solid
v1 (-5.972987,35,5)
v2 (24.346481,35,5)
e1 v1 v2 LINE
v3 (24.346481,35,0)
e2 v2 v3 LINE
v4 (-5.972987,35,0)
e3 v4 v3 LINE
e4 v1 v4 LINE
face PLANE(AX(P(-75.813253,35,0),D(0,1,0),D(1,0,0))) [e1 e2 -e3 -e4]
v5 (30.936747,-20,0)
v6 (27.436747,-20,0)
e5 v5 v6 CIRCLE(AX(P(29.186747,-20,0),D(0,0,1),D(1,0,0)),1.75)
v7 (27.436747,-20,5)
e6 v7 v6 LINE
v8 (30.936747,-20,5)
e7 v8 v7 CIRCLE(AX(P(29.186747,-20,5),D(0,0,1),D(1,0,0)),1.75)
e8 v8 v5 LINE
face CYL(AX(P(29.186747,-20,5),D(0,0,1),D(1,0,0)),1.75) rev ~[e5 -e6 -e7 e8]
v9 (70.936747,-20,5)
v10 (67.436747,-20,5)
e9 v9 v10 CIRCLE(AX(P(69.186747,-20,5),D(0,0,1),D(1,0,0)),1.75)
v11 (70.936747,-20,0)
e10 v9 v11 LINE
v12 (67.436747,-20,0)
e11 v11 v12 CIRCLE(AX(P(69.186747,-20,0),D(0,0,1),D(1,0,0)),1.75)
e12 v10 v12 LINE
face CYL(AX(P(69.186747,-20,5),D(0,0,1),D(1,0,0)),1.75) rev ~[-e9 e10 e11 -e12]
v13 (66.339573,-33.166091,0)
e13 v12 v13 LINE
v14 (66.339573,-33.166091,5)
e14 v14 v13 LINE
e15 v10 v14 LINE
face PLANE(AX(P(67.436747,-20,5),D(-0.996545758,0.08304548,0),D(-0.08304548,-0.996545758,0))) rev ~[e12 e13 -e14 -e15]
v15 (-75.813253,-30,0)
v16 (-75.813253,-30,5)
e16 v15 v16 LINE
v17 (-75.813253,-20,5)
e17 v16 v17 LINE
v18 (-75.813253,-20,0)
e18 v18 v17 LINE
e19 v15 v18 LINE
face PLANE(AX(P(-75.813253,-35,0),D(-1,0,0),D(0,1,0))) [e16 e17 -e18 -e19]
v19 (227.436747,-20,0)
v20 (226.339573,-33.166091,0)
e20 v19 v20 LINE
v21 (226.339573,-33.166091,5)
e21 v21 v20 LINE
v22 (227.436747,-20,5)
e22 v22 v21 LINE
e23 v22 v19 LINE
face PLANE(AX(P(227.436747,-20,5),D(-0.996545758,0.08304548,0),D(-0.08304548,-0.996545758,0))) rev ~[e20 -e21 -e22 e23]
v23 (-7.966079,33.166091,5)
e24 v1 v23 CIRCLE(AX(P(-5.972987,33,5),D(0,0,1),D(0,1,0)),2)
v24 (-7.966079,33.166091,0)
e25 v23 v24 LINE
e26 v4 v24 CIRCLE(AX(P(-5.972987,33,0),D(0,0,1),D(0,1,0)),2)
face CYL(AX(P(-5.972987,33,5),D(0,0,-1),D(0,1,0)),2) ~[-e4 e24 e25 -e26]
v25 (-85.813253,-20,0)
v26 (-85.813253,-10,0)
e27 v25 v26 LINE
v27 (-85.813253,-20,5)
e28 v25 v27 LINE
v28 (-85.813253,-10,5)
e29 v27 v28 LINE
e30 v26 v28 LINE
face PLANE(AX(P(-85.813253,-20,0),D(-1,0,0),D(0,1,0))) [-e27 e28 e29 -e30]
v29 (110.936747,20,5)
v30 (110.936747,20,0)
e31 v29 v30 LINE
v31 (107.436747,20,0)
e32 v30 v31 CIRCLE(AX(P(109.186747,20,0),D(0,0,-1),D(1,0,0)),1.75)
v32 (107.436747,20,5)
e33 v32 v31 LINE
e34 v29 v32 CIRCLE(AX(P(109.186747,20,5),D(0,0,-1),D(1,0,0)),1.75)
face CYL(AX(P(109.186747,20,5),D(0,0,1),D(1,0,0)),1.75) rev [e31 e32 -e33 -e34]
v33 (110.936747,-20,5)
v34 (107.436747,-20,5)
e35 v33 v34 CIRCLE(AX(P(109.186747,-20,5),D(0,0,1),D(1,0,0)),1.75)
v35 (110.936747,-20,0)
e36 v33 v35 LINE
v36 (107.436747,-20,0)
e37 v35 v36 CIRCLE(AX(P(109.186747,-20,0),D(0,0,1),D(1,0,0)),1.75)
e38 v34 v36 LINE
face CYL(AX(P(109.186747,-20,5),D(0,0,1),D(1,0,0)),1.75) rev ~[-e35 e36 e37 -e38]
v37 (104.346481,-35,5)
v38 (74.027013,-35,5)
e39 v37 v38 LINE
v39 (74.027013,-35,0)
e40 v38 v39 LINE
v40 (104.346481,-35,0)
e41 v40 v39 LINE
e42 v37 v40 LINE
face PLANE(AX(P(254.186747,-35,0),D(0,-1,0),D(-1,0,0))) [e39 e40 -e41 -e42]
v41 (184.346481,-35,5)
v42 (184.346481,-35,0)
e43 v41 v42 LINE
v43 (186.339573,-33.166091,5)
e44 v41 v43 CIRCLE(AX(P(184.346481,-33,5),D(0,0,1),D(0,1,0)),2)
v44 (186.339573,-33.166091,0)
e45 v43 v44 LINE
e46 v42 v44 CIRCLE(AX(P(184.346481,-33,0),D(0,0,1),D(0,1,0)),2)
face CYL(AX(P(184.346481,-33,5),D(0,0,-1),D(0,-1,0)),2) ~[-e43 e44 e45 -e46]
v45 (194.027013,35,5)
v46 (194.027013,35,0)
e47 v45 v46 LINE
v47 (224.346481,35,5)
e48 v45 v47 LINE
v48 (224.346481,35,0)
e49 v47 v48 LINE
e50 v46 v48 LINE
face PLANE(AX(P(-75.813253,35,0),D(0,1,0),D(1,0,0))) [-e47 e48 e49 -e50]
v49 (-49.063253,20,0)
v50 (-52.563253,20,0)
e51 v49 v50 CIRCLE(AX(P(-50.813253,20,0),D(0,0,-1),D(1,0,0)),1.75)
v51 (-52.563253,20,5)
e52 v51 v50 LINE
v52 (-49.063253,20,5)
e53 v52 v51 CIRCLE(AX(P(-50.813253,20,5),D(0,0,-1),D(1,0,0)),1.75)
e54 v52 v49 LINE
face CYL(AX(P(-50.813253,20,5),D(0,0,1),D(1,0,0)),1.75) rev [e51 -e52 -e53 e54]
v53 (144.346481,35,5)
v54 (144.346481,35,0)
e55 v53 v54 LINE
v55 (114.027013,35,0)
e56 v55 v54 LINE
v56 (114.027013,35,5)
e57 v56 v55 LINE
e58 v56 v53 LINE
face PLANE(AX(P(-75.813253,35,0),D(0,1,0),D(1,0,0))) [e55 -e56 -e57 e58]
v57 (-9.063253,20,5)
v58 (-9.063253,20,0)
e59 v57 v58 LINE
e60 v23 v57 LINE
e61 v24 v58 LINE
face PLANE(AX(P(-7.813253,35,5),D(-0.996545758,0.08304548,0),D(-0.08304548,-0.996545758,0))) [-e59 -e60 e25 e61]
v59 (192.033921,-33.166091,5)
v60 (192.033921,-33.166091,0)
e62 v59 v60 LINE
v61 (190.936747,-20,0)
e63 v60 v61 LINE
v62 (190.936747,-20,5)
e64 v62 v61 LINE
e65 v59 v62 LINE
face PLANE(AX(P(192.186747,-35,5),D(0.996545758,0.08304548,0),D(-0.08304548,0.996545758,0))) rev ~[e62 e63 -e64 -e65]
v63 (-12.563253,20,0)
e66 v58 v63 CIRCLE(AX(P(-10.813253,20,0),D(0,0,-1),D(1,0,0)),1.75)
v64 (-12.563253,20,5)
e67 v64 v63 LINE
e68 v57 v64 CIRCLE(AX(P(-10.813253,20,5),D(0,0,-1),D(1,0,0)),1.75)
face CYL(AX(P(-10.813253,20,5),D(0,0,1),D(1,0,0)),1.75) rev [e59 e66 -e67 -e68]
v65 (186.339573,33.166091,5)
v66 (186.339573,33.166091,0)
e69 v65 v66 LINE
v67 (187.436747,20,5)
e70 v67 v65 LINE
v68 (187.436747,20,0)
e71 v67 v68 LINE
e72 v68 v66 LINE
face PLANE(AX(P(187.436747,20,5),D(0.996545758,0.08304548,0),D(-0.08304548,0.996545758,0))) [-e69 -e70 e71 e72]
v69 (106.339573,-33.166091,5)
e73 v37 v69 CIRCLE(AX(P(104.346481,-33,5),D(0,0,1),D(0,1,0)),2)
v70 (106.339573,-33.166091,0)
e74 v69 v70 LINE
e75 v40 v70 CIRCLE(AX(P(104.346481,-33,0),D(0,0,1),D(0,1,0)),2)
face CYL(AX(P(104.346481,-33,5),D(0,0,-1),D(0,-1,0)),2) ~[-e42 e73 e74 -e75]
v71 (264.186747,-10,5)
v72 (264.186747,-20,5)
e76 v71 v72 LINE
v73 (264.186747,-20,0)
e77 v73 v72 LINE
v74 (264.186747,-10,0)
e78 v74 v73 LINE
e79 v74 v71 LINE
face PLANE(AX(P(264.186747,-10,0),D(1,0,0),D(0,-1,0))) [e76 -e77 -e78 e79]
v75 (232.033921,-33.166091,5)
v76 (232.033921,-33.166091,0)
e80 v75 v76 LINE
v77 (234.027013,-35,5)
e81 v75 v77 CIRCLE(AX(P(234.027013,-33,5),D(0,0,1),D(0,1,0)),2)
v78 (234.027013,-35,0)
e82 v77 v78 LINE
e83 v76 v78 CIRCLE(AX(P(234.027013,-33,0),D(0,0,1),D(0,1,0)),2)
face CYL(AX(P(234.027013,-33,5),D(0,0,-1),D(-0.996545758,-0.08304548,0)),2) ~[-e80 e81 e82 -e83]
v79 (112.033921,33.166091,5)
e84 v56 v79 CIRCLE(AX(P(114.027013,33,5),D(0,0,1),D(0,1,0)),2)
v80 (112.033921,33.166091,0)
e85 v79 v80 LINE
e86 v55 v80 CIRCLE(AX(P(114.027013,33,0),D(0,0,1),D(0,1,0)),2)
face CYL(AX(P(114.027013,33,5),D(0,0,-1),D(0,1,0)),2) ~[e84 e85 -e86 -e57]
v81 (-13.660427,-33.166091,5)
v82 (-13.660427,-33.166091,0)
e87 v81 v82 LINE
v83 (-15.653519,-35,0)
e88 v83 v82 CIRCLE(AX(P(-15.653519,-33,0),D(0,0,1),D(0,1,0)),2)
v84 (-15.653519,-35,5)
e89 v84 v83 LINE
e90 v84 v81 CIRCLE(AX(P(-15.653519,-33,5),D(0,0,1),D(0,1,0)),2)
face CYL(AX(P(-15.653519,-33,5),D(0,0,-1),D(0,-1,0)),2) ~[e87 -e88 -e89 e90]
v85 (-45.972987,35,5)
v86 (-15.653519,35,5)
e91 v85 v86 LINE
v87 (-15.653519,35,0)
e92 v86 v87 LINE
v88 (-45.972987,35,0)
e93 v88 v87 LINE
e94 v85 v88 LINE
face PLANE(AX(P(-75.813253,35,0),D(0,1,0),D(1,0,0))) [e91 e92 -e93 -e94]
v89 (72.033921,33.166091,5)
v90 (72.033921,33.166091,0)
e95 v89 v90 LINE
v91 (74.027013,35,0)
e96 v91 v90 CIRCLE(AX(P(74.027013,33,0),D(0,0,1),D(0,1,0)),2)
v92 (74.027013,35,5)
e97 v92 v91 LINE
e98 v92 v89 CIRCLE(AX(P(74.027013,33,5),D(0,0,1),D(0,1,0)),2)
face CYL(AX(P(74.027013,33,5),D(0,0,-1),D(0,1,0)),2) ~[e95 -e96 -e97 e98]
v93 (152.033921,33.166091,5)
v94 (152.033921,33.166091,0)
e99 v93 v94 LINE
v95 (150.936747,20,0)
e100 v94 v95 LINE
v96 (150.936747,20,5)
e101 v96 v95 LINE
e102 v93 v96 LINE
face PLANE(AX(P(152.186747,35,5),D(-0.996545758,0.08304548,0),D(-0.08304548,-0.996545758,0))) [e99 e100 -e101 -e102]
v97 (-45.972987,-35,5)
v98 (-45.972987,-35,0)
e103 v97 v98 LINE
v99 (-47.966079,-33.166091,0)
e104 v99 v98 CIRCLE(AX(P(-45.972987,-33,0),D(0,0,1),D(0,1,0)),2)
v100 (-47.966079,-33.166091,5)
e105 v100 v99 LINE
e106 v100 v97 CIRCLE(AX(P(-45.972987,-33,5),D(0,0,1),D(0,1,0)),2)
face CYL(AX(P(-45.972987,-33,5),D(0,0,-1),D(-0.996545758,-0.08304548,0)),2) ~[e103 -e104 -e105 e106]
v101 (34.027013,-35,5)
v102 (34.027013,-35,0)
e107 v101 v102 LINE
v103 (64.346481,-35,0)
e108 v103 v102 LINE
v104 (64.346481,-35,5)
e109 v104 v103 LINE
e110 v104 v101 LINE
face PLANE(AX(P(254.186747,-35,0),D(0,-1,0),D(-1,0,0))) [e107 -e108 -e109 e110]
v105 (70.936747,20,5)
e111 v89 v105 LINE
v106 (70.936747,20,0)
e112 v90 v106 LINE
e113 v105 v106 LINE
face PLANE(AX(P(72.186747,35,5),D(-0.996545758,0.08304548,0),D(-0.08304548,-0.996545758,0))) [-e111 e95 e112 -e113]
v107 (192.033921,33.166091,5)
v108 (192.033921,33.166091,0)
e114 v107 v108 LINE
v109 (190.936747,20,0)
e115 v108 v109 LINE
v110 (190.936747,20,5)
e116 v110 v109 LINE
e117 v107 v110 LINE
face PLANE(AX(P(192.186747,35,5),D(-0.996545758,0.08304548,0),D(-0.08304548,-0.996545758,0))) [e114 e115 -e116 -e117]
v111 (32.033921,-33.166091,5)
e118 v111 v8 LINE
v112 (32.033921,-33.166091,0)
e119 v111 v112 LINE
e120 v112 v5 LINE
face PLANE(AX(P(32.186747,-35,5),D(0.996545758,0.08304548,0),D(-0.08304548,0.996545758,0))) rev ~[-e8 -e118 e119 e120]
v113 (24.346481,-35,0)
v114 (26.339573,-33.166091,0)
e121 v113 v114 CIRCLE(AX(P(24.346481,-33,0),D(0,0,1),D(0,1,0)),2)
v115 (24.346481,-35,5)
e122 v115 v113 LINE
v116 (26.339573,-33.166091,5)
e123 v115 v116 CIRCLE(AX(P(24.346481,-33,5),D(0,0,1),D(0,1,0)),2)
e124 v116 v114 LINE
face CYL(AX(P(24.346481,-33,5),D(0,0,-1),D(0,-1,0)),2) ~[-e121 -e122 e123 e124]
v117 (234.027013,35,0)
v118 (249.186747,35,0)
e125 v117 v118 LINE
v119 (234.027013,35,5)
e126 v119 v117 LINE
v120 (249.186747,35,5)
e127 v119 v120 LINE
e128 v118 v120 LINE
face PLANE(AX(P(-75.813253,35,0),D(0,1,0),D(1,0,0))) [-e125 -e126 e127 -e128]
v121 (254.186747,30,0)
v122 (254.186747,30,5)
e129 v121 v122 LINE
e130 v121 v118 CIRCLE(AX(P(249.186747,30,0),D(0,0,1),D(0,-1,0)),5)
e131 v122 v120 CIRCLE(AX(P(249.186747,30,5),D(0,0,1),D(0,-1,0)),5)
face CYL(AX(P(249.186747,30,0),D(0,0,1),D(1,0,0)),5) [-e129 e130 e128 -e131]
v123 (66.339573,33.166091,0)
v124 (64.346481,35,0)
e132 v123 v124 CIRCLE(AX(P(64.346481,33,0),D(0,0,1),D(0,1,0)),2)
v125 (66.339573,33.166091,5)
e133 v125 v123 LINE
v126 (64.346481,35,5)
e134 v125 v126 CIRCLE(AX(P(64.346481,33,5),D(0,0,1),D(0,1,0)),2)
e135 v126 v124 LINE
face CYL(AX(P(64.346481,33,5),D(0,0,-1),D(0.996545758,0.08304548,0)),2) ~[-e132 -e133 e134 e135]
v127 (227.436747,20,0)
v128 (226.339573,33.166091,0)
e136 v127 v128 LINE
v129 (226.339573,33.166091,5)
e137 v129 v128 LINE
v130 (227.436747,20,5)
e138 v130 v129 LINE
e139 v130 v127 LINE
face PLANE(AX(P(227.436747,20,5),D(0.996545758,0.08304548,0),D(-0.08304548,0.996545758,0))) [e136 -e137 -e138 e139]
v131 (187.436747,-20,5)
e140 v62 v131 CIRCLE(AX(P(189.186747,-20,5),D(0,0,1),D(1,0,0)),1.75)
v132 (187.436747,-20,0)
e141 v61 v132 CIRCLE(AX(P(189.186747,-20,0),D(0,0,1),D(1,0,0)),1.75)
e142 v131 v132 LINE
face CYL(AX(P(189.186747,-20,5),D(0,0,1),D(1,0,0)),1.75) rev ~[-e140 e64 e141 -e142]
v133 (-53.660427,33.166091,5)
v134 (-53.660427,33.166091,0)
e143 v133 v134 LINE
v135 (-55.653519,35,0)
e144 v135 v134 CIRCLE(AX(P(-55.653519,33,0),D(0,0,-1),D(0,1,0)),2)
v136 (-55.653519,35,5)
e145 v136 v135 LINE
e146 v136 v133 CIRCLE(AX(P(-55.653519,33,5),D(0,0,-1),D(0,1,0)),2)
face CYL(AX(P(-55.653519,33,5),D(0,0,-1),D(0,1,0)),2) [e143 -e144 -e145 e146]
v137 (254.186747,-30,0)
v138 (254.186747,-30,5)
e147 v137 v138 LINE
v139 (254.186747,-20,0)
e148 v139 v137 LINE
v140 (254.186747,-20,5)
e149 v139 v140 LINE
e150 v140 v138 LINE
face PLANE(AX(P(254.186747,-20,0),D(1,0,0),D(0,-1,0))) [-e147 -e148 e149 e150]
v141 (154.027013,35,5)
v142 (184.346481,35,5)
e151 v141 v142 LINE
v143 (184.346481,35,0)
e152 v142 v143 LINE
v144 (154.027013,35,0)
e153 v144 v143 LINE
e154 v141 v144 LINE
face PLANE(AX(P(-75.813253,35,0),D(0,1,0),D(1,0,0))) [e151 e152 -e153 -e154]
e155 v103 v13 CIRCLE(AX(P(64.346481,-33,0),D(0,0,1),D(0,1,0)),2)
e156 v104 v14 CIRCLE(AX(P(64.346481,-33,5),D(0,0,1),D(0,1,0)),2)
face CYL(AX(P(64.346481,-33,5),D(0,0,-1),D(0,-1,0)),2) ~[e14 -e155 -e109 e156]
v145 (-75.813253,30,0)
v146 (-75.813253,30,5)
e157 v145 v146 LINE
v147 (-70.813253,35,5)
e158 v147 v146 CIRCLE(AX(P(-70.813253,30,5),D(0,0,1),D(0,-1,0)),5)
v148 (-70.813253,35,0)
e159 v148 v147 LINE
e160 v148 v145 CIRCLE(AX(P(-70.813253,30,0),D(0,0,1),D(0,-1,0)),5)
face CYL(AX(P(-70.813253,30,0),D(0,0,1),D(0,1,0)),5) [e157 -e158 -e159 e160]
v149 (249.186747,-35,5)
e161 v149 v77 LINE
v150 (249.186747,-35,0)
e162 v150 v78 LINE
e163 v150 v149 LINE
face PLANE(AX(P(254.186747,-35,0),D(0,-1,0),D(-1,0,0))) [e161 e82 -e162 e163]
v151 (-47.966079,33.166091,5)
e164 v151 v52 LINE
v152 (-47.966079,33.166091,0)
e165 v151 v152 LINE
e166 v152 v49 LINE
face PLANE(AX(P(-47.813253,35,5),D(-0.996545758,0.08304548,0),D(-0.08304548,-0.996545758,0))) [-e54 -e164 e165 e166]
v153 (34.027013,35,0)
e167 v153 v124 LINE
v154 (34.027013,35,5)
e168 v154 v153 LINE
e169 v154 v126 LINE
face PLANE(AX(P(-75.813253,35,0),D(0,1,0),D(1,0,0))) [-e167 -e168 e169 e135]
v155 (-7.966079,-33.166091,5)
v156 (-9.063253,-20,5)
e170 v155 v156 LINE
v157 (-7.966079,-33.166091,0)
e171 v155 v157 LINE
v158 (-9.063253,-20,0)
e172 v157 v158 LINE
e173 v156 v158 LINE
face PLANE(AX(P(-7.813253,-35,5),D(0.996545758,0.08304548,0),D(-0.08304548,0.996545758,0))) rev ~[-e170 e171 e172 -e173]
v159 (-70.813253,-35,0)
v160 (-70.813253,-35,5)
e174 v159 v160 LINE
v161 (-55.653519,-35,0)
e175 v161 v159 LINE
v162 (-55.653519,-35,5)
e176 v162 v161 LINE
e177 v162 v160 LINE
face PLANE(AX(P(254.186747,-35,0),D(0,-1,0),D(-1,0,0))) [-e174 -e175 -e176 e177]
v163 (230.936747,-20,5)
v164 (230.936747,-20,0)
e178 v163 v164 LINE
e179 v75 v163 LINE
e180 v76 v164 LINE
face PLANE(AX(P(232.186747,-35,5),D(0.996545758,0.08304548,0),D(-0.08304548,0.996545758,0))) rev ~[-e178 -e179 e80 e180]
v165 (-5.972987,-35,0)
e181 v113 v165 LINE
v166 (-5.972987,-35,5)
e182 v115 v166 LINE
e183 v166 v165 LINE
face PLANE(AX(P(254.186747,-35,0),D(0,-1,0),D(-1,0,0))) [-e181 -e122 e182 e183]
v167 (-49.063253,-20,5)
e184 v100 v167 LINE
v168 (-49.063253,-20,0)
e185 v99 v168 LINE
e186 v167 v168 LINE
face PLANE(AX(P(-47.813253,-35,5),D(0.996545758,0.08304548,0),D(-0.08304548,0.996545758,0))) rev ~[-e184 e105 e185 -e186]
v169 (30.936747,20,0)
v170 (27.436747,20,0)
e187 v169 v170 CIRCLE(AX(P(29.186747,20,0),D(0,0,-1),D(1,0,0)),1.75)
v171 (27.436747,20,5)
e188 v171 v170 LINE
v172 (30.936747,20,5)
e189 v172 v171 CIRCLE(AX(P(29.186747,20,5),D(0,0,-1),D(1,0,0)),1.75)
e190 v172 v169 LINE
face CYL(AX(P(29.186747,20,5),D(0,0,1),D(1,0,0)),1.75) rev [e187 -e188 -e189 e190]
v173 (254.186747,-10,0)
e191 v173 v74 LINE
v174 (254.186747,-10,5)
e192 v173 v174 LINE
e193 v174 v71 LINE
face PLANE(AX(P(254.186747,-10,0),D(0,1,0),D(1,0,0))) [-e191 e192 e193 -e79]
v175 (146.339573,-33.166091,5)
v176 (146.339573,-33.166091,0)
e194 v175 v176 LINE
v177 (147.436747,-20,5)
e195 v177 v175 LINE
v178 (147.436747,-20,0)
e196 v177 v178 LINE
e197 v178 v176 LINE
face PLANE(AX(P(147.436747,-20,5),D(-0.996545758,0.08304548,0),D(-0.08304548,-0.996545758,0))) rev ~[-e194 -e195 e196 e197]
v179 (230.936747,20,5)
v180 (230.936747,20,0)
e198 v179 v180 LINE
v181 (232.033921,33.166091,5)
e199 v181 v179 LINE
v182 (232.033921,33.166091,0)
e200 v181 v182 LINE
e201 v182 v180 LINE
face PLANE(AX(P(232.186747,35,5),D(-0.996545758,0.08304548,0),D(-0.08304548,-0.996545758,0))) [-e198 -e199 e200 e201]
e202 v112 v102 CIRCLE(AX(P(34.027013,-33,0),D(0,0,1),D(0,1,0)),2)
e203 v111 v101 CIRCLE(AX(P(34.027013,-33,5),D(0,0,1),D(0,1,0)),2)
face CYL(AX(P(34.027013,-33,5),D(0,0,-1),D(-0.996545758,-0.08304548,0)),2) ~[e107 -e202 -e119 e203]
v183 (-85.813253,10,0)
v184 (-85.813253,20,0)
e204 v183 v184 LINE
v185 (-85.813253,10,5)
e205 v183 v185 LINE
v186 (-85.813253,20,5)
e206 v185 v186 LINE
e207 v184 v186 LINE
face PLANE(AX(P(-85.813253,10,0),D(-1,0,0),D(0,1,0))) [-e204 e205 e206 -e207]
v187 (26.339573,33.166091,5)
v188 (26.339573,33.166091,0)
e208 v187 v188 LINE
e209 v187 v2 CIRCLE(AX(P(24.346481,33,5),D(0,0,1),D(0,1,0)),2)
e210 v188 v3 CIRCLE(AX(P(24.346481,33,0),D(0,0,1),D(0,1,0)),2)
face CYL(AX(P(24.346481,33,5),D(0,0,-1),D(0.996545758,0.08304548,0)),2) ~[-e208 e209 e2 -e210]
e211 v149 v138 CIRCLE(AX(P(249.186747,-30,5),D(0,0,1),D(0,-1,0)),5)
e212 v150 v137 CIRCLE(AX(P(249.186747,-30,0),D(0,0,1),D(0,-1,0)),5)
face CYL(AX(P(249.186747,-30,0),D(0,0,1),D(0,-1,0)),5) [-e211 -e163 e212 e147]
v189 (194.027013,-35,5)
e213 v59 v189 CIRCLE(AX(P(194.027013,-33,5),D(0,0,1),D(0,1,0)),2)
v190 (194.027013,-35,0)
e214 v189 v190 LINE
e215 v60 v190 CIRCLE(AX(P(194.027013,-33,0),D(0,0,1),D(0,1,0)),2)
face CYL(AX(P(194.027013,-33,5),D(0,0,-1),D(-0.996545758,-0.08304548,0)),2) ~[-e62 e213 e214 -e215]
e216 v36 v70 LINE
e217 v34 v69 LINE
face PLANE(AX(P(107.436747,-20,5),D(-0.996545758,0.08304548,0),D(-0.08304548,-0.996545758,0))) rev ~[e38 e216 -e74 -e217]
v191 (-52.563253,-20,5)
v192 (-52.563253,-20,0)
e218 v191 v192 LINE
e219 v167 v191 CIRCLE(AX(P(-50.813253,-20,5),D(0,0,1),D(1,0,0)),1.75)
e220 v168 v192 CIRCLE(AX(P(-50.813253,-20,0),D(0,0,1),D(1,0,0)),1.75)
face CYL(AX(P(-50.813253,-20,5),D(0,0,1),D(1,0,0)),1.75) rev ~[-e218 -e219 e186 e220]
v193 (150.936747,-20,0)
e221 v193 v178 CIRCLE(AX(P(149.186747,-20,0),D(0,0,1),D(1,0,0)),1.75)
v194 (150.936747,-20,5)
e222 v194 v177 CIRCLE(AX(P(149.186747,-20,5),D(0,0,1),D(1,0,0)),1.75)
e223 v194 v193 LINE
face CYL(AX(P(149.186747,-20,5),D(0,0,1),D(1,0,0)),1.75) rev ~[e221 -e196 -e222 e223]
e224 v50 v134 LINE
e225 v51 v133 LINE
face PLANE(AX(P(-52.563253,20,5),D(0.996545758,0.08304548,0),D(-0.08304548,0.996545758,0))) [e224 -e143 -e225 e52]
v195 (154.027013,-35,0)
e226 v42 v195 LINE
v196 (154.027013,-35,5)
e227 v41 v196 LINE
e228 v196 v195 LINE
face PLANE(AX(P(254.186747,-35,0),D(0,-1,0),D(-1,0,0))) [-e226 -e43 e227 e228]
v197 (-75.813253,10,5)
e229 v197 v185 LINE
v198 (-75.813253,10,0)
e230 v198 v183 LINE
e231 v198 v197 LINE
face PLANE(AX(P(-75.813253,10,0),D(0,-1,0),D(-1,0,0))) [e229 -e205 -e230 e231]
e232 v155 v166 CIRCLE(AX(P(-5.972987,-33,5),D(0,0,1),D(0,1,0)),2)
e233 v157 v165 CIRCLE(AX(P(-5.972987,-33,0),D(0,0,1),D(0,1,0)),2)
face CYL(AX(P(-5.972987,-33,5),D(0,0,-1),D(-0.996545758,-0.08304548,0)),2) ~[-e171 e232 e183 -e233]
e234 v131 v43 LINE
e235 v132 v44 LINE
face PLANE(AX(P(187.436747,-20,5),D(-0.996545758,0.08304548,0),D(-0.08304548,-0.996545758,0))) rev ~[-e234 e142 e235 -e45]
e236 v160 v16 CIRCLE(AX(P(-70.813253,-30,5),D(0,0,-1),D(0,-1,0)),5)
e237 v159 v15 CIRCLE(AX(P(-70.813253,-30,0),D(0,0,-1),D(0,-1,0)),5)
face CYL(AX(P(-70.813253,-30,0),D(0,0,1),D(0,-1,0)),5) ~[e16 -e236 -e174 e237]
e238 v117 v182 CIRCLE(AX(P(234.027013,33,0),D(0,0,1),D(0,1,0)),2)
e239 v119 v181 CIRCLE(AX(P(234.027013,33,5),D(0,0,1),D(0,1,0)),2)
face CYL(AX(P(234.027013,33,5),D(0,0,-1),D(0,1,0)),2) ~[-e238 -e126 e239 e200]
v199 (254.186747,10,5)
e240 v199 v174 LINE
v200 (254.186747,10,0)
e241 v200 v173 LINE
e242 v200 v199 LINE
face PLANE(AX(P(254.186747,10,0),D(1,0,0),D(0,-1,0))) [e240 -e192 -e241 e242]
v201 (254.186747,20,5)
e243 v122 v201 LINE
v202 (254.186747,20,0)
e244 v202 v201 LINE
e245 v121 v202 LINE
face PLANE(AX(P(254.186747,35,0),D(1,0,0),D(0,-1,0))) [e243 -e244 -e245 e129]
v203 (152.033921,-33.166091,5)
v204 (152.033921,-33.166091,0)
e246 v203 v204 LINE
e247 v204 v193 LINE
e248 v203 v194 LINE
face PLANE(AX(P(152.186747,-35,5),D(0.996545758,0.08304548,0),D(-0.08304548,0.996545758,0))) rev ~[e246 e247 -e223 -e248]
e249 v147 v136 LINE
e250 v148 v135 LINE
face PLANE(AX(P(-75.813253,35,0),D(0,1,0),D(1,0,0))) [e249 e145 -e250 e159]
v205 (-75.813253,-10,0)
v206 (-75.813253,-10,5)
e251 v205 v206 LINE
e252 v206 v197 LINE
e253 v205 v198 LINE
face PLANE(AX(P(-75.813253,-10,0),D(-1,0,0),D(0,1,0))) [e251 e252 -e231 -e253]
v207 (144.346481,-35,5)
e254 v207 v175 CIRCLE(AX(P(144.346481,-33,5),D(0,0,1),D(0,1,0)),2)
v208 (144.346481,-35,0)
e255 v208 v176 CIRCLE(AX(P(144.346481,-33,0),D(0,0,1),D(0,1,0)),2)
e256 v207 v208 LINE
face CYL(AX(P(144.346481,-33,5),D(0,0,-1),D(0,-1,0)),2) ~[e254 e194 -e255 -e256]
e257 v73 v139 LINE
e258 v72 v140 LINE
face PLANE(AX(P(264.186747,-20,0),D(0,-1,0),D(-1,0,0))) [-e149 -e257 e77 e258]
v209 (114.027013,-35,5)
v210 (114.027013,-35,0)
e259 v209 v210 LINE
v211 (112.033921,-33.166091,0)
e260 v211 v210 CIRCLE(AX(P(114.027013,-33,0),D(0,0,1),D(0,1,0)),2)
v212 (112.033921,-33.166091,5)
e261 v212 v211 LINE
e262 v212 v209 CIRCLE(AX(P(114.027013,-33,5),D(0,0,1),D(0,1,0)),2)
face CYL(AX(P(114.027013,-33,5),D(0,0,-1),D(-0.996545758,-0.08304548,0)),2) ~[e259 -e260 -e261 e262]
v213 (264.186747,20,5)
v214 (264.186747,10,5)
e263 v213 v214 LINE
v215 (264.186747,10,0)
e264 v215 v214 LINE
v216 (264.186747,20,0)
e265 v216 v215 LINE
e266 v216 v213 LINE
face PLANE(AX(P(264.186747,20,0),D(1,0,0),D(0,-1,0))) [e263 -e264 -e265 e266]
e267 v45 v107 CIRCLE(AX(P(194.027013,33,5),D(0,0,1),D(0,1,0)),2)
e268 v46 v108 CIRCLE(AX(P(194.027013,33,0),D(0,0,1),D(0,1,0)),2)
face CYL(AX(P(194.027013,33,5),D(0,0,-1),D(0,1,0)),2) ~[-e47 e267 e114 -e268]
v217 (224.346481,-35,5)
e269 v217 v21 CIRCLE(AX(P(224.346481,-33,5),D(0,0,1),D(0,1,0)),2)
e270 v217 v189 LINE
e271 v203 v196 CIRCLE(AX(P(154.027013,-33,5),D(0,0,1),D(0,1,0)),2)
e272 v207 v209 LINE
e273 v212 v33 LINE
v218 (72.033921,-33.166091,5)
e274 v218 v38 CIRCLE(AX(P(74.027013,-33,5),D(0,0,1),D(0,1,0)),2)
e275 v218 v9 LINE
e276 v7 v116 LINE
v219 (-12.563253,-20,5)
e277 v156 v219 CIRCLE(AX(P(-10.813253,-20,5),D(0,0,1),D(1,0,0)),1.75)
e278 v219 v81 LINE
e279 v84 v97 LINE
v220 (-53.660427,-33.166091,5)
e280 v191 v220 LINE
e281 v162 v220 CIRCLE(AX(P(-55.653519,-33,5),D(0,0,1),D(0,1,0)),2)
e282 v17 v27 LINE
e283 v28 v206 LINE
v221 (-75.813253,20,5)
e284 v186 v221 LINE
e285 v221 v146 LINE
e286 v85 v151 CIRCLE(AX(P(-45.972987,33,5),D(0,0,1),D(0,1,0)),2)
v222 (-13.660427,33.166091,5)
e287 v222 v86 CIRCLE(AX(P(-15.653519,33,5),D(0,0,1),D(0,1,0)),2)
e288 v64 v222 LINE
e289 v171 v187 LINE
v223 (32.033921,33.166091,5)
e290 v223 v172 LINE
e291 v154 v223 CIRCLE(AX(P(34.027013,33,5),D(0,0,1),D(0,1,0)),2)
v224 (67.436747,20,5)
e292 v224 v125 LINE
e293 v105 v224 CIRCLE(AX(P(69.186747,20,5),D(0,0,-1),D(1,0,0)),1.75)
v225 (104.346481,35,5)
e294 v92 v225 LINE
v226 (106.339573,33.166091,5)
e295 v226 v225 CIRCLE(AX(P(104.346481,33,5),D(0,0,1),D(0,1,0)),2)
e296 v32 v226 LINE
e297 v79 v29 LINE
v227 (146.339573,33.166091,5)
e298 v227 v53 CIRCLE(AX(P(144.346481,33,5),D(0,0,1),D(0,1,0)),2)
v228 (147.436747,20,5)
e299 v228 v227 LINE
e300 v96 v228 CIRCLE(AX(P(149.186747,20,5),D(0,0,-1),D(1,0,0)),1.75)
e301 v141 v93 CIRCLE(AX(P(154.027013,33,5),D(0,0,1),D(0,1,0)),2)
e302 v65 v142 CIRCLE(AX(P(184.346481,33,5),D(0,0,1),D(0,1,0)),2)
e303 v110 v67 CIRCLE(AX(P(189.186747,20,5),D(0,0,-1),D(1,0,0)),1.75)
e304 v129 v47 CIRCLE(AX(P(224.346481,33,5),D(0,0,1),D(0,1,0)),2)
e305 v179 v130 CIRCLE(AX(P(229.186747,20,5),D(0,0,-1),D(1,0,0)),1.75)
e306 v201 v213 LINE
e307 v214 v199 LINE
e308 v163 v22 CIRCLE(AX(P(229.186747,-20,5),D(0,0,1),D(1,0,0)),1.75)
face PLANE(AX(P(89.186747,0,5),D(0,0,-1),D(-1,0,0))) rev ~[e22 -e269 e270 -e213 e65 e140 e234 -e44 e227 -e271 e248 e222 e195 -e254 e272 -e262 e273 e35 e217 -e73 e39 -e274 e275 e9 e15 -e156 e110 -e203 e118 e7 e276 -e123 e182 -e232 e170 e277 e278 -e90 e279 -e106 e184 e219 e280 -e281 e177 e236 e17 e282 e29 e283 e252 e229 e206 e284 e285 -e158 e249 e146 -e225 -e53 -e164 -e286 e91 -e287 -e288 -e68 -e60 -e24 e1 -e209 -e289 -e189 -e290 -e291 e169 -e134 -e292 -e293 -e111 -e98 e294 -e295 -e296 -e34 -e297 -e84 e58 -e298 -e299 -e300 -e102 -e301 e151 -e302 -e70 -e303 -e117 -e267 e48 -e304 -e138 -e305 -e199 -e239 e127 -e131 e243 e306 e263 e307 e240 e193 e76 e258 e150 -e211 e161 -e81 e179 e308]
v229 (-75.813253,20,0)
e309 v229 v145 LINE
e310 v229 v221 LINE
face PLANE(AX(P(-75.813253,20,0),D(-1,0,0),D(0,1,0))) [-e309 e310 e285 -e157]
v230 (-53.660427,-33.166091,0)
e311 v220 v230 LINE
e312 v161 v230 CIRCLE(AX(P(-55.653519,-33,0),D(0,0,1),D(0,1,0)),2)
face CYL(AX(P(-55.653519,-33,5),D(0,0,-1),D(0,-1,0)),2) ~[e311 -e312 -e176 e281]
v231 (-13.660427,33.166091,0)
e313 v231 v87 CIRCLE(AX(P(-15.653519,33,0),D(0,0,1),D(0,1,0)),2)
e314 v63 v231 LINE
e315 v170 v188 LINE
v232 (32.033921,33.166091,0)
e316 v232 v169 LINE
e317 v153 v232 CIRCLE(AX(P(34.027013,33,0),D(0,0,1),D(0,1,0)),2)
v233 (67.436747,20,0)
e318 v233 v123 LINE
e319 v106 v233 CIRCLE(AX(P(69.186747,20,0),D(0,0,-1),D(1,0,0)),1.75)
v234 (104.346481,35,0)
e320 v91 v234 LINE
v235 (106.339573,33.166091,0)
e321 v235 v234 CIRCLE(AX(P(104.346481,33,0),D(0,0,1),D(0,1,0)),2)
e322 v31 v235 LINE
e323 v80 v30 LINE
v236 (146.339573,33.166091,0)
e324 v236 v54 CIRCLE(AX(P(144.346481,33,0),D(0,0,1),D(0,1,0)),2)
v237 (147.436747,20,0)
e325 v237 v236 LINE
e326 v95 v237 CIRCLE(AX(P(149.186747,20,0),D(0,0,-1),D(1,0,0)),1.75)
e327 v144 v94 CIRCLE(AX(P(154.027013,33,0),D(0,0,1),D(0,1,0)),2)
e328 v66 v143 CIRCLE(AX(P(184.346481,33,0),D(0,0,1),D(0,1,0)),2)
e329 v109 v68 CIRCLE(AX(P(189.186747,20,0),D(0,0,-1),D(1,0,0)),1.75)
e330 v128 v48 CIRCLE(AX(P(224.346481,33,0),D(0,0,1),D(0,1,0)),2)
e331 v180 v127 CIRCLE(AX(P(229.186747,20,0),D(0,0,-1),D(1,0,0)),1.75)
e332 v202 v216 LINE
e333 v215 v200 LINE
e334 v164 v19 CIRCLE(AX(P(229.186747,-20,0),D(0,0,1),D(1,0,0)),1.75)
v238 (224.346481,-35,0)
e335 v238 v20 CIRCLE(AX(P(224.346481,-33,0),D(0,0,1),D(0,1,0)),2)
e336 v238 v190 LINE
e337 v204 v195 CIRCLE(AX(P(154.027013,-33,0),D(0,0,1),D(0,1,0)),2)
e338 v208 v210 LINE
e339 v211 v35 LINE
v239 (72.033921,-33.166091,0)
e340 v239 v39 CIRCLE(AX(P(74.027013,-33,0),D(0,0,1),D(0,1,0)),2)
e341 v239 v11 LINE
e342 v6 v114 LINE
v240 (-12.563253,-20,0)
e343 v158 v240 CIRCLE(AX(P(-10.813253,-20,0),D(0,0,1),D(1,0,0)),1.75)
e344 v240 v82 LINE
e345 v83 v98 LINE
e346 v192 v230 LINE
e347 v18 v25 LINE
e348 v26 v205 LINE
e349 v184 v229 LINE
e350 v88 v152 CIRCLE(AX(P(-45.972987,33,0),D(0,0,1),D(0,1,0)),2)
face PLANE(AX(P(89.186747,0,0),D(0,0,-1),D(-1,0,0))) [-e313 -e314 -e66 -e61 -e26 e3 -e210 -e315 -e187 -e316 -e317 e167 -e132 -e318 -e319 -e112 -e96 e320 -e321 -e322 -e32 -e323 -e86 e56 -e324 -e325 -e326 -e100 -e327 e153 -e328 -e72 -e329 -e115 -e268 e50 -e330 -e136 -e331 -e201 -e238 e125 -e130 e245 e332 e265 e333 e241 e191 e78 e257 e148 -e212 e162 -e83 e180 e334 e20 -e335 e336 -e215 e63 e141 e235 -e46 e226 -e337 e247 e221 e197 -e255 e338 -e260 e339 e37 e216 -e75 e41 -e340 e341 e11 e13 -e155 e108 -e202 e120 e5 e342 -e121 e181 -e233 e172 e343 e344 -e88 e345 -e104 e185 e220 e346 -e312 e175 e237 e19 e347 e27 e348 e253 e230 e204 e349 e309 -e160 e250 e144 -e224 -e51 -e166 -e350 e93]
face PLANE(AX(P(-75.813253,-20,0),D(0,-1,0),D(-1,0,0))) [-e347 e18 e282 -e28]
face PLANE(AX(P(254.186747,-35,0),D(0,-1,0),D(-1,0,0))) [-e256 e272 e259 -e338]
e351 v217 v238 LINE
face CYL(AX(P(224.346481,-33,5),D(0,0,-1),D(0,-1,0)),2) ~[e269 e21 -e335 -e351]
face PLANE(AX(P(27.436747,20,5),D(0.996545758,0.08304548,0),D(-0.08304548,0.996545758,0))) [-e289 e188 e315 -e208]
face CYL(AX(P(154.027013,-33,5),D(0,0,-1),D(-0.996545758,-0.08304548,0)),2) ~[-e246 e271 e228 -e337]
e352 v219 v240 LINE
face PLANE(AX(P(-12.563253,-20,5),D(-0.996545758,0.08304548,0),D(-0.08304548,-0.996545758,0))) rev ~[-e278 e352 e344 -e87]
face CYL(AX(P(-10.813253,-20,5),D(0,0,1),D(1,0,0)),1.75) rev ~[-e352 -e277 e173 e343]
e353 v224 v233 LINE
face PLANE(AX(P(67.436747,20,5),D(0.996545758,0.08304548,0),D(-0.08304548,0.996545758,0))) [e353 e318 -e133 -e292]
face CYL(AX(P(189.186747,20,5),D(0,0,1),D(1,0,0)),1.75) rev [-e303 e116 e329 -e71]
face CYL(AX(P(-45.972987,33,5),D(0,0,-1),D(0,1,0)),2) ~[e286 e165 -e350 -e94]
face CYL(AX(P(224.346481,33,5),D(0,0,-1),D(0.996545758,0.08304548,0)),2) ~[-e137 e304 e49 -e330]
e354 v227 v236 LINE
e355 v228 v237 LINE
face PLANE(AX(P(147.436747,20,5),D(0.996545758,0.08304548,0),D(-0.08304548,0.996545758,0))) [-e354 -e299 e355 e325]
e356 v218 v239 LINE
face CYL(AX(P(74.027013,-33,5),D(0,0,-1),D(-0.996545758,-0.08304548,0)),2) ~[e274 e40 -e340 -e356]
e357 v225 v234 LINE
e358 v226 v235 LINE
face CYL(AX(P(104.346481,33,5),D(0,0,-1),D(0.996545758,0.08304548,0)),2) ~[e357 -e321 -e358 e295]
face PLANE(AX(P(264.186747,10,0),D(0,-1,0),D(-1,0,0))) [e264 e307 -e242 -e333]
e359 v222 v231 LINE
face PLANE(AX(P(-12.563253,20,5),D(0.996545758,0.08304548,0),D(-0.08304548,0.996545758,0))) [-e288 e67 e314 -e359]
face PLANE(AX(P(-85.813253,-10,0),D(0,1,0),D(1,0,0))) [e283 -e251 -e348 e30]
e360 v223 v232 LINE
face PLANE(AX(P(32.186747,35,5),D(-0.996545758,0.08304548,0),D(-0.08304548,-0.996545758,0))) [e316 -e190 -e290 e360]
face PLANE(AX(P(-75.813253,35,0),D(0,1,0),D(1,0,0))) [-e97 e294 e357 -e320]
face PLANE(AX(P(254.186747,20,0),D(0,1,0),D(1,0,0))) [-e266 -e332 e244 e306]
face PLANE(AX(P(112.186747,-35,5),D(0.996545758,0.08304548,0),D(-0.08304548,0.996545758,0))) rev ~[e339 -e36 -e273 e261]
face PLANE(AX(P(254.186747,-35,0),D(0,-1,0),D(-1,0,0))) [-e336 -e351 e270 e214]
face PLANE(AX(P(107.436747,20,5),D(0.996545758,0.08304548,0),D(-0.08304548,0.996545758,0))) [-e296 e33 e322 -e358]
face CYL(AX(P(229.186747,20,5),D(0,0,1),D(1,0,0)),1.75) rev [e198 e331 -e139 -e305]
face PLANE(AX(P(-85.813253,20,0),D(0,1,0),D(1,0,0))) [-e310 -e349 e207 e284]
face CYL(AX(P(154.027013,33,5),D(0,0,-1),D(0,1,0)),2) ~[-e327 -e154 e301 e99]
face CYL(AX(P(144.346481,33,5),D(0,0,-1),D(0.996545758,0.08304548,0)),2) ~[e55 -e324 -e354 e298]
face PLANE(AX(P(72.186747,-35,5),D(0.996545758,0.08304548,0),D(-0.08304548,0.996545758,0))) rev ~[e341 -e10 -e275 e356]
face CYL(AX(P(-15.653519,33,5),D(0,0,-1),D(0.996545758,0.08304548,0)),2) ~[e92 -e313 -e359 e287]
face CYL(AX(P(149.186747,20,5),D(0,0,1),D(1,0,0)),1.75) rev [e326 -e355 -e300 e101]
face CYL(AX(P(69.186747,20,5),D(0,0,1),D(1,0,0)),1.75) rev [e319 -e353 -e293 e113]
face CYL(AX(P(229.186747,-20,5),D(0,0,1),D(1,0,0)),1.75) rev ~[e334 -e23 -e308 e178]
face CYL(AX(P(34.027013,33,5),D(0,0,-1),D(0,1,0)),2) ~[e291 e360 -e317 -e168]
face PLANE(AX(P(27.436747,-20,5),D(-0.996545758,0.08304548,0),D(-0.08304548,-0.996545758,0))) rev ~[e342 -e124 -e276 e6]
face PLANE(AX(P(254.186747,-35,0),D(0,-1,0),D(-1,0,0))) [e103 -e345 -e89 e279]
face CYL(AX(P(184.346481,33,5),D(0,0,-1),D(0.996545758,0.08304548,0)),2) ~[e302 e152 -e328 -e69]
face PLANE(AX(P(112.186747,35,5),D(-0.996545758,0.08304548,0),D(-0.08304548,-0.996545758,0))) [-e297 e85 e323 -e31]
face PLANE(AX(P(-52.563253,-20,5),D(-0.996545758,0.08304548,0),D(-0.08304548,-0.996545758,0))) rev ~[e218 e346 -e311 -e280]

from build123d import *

# Parameters (mm, degrees)
BOSS_EXTRUDE1_DEPTH = 5
CUT_EXTRUDE1_DEPTH  = 5
FILLET1_R           = 2
CONG_1_R            = 5


with BuildPart() as part:
    # Sketch1 → Boss-Extrude1 (new body)
    with BuildSketch(Plane.XY):
        Polygon((-75.813253012, 35), (254.186746988, 35), (254.186746988, 20), (264.186746988, 20), (264.186746988, 10), (254.186746988, 10), (254.186746988, -10), (264.186746988, -10), (264.186746988, -20), (254.186746988, -20), (254.186746988, -35), (-75.813253012, -35), (-75.813253012, -20), (-85.813253012, -20), (-85.813253012, -10), (-75.813253012, -10), (-75.813253012, 10), (-85.813253012, 10), (-85.813253012, 20), (-75.813253012, 20), align=None)
    extrude(amount=BOSS_EXTRUDE1_DEPTH)

    # Sketch2 → Cut-Extrude1 (cut)
    with BuildSketch(Plane.XY.offset(5)):
        with BuildLine():
            Line((-53.813253012, 35), (-47.813253012, 35))
            Line((-47.813253012, 35), (-49.063253012, 20))
            ThreePointArc((-49.063253012, 20), (-50.813253012, 18.25), (-52.563253012, 20))
            Line((-52.563253012, 20), (-53.813253012, 35))
        make_face()
        with BuildLine():
            Line((-13.813253012, 35), (-7.813253012, 35))
            Line((-7.813253012, 35), (-9.063253012, 20))
            ThreePointArc((-9.063253012, 20), (-10.813253012, 18.25), (-12.563253012, 20))
            Line((-12.563253012, 20), (-13.813253012, 35))
        make_face()
        with BuildLine():
            Line((26.186746988, 35), (32.186746988, 35))
            Line((32.186746988, 35), (30.936746988, 20))
            ThreePointArc((30.936746988, 20), (29.186746988, 18.25), (27.436746988, 20))
            Line((27.436746988, 20), (26.186746988, 35))
        make_face()
        with BuildLine():
            Line((66.186746988, 35), (72.186746988, 35))
            Line((72.186746988, 35), (70.936746988, 20))
            ThreePointArc((70.936746988, 20), (69.186746988, 18.25), (67.436746988, 20))
            Line((67.436746988, 20), (66.186746988, 35))
        make_face()
        with BuildLine():
            Line((106.186746988, 35), (112.186746988, 35))
            Line((112.186746988, 35), (110.936746988, 20))
            ThreePointArc((110.936746988, 20), (109.186746988, 18.25), (107.436746988, 20))
            Line((107.436746988, 20), (106.186746988, 35))
        make_face()
        with BuildLine():
            Line((146.186746988, 35), (152.186746988, 35))
            Line((152.186746988, 35), (150.936746988, 20))
            ThreePointArc((150.936746988, 20), (149.186746988, 18.25), (147.436746988, 20))
            Line((147.436746988, 20), (146.186746988, 35))
        make_face()
        with BuildLine():
            Line((186.186746988, 35), (192.186746988, 35))
            Line((192.186746988, 35), (190.936746988, 20))
            ThreePointArc((190.936746988, 20), (189.186746988, 18.25), (187.436746988, 20))
            Line((187.436746988, 20), (186.186746988, 35))
        make_face()
        with BuildLine():
            Line((226.186746988, 35), (232.186746988, 35))
            Line((232.186746988, 35), (230.936746988, 20))
            ThreePointArc((230.936746988, 20), (229.186746988, 18.25), (227.436746988, 20))
            Line((227.436746988, 20), (226.186746988, 35))
        make_face()
        with BuildLine():
            Line((232.186746988, -35), (230.936746988, -20))
            ThreePointArc((230.936746988, -20), (229.186746988, -18.25), (227.436746988, -20))
            Line((227.436746988, -20), (226.186746988, -35))
            Line((226.186746988, -35), (232.186746988, -35))
        make_face()
        with BuildLine():
            Line((192.186746988, -35), (190.936746988, -20))
            ThreePointArc((190.936746988, -20), (189.186746988, -18.25), (187.436746988, -20))
            Line((187.436746988, -20), (186.186746988, -35))
            Line((186.186746988, -35), (192.186746988, -35))
        make_face()
        with BuildLine():
            Line((152.186746988, -35), (150.936746988, -20))
            ThreePointArc((150.936746988, -20), (149.186746988, -18.25), (147.436746988, -20))
            Line((147.436746988, -20), (146.186746988, -35))
            Line((146.186746988, -35), (152.186746988, -35))
        make_face()
        with BuildLine():
            Line((112.186746988, -35), (110.936746988, -20))
            ThreePointArc((110.936746988, -20), (109.186746988, -18.25), (107.436746988, -20))
            Line((107.436746988, -20), (106.186746988, -35))
            Line((106.186746988, -35), (112.186746988, -35))
        make_face()
        with BuildLine():
            Line((72.186746988, -35), (70.936746988, -20))
            ThreePointArc((70.936746988, -20), (69.186746988, -18.25), (67.436746988, -20))
            Line((67.436746988, -20), (66.186746988, -35))
            Line((66.186746988, -35), (72.186746988, -35))
        make_face()
        with BuildLine():
            Line((32.186746988, -35), (30.936746988, -20))
            ThreePointArc((30.936746988, -20), (29.186746988, -18.25), (27.436746988, -20))
            Line((27.436746988, -20), (26.186746988, -35))
            Line((26.186746988, -35), (32.186746988, -35))
        make_face()
        with BuildLine():
            Line((-7.813253012, -35), (-9.063253012, -20))
            ThreePointArc((-9.063253012, -20), (-10.813253012, -18.25), (-12.563253012, -20))
            Line((-12.563253012, -20), (-13.813253012, -35))
            Line((-13.813253012, -35), (-7.813253012, -35))
        make_face()
        with BuildLine():
            Line((-47.813253012, -35), (-49.063253012, -20))
            ThreePointArc((-49.063253012, -20), (-50.813253012, -18.25), (-52.563253012, -20))
            Line((-52.563253012, -20), (-53.813253012, -35))
            Line((-53.813253012, -35), (-47.813253012, -35))
        make_face()
    extrude(amount=-CUT_EXTRUDE1_DEPTH, mode=Mode.SUBTRACT)

    # Fillet1
    fillet1_edges = [part.edges().sort_by_distance(p)[0] for p in [
        (-13.813253012, 35, 2.5),
        (-7.813253012, 35, 2.5),
        (26.186746988, 35, 2.5),
        (32.186746988, 35, 2.5),
        (66.186746988, 35, 2.5),
        (72.186746988, 35, 2.5),
        (106.186746988, 35, 2.5),
        (112.186746988, 35, 2.5),
        (146.186746988, 35, 2.5),
        (152.186746988, 35, 2.5),
        (186.186746988, 35, 2.5),
        (192.186746988, 35, 2.5),
        (226.186746988, 35, 2.5),
        (232.186746988, 35, 2.5),
        (232.186746988, -35, 2.5),
        (226.186746988, -35, 2.5),
        (192.186746988, -35, 2.5),
        (186.186746988, -35, 2.5),
        (152.186746988, -35, 2.5),
        (146.186746988, -35, 2.5),
        (112.186746988, -35, 2.5),
        (106.186746988, -35, 2.5),
        (72.186746988, -35, 2.5),
        (66.186746988, -35, 2.5),
        (32.186746988, -35, 2.5),
        (26.186746988, -35, 2.5),
        (-7.813253012, -35, 2.5),
        (-13.813253012, -35, 2.5),
        (-47.813253012, -35, 2.5),
        (-53.813253012, -35, 2.5),
        (-53.813253012, 35, 2.5),
        (-47.813253012, 35, 2.5),
    ]]
    fillet(fillet1_edges, radius=FILLET1_R)

    # Congé1
    cong_1_edges = [part.edges().sort_by_distance(p)[0] for p in [
        (-75.813253012, 35, 2.5),
        (254.186746988, 35, 2.5),
        (254.186746988, -35, 2.5),
        (-75.813253012, -35, 2.5),
    ]]
    fillet(cong_1_edges, radius=CONG_1_R)


solid = part.part
